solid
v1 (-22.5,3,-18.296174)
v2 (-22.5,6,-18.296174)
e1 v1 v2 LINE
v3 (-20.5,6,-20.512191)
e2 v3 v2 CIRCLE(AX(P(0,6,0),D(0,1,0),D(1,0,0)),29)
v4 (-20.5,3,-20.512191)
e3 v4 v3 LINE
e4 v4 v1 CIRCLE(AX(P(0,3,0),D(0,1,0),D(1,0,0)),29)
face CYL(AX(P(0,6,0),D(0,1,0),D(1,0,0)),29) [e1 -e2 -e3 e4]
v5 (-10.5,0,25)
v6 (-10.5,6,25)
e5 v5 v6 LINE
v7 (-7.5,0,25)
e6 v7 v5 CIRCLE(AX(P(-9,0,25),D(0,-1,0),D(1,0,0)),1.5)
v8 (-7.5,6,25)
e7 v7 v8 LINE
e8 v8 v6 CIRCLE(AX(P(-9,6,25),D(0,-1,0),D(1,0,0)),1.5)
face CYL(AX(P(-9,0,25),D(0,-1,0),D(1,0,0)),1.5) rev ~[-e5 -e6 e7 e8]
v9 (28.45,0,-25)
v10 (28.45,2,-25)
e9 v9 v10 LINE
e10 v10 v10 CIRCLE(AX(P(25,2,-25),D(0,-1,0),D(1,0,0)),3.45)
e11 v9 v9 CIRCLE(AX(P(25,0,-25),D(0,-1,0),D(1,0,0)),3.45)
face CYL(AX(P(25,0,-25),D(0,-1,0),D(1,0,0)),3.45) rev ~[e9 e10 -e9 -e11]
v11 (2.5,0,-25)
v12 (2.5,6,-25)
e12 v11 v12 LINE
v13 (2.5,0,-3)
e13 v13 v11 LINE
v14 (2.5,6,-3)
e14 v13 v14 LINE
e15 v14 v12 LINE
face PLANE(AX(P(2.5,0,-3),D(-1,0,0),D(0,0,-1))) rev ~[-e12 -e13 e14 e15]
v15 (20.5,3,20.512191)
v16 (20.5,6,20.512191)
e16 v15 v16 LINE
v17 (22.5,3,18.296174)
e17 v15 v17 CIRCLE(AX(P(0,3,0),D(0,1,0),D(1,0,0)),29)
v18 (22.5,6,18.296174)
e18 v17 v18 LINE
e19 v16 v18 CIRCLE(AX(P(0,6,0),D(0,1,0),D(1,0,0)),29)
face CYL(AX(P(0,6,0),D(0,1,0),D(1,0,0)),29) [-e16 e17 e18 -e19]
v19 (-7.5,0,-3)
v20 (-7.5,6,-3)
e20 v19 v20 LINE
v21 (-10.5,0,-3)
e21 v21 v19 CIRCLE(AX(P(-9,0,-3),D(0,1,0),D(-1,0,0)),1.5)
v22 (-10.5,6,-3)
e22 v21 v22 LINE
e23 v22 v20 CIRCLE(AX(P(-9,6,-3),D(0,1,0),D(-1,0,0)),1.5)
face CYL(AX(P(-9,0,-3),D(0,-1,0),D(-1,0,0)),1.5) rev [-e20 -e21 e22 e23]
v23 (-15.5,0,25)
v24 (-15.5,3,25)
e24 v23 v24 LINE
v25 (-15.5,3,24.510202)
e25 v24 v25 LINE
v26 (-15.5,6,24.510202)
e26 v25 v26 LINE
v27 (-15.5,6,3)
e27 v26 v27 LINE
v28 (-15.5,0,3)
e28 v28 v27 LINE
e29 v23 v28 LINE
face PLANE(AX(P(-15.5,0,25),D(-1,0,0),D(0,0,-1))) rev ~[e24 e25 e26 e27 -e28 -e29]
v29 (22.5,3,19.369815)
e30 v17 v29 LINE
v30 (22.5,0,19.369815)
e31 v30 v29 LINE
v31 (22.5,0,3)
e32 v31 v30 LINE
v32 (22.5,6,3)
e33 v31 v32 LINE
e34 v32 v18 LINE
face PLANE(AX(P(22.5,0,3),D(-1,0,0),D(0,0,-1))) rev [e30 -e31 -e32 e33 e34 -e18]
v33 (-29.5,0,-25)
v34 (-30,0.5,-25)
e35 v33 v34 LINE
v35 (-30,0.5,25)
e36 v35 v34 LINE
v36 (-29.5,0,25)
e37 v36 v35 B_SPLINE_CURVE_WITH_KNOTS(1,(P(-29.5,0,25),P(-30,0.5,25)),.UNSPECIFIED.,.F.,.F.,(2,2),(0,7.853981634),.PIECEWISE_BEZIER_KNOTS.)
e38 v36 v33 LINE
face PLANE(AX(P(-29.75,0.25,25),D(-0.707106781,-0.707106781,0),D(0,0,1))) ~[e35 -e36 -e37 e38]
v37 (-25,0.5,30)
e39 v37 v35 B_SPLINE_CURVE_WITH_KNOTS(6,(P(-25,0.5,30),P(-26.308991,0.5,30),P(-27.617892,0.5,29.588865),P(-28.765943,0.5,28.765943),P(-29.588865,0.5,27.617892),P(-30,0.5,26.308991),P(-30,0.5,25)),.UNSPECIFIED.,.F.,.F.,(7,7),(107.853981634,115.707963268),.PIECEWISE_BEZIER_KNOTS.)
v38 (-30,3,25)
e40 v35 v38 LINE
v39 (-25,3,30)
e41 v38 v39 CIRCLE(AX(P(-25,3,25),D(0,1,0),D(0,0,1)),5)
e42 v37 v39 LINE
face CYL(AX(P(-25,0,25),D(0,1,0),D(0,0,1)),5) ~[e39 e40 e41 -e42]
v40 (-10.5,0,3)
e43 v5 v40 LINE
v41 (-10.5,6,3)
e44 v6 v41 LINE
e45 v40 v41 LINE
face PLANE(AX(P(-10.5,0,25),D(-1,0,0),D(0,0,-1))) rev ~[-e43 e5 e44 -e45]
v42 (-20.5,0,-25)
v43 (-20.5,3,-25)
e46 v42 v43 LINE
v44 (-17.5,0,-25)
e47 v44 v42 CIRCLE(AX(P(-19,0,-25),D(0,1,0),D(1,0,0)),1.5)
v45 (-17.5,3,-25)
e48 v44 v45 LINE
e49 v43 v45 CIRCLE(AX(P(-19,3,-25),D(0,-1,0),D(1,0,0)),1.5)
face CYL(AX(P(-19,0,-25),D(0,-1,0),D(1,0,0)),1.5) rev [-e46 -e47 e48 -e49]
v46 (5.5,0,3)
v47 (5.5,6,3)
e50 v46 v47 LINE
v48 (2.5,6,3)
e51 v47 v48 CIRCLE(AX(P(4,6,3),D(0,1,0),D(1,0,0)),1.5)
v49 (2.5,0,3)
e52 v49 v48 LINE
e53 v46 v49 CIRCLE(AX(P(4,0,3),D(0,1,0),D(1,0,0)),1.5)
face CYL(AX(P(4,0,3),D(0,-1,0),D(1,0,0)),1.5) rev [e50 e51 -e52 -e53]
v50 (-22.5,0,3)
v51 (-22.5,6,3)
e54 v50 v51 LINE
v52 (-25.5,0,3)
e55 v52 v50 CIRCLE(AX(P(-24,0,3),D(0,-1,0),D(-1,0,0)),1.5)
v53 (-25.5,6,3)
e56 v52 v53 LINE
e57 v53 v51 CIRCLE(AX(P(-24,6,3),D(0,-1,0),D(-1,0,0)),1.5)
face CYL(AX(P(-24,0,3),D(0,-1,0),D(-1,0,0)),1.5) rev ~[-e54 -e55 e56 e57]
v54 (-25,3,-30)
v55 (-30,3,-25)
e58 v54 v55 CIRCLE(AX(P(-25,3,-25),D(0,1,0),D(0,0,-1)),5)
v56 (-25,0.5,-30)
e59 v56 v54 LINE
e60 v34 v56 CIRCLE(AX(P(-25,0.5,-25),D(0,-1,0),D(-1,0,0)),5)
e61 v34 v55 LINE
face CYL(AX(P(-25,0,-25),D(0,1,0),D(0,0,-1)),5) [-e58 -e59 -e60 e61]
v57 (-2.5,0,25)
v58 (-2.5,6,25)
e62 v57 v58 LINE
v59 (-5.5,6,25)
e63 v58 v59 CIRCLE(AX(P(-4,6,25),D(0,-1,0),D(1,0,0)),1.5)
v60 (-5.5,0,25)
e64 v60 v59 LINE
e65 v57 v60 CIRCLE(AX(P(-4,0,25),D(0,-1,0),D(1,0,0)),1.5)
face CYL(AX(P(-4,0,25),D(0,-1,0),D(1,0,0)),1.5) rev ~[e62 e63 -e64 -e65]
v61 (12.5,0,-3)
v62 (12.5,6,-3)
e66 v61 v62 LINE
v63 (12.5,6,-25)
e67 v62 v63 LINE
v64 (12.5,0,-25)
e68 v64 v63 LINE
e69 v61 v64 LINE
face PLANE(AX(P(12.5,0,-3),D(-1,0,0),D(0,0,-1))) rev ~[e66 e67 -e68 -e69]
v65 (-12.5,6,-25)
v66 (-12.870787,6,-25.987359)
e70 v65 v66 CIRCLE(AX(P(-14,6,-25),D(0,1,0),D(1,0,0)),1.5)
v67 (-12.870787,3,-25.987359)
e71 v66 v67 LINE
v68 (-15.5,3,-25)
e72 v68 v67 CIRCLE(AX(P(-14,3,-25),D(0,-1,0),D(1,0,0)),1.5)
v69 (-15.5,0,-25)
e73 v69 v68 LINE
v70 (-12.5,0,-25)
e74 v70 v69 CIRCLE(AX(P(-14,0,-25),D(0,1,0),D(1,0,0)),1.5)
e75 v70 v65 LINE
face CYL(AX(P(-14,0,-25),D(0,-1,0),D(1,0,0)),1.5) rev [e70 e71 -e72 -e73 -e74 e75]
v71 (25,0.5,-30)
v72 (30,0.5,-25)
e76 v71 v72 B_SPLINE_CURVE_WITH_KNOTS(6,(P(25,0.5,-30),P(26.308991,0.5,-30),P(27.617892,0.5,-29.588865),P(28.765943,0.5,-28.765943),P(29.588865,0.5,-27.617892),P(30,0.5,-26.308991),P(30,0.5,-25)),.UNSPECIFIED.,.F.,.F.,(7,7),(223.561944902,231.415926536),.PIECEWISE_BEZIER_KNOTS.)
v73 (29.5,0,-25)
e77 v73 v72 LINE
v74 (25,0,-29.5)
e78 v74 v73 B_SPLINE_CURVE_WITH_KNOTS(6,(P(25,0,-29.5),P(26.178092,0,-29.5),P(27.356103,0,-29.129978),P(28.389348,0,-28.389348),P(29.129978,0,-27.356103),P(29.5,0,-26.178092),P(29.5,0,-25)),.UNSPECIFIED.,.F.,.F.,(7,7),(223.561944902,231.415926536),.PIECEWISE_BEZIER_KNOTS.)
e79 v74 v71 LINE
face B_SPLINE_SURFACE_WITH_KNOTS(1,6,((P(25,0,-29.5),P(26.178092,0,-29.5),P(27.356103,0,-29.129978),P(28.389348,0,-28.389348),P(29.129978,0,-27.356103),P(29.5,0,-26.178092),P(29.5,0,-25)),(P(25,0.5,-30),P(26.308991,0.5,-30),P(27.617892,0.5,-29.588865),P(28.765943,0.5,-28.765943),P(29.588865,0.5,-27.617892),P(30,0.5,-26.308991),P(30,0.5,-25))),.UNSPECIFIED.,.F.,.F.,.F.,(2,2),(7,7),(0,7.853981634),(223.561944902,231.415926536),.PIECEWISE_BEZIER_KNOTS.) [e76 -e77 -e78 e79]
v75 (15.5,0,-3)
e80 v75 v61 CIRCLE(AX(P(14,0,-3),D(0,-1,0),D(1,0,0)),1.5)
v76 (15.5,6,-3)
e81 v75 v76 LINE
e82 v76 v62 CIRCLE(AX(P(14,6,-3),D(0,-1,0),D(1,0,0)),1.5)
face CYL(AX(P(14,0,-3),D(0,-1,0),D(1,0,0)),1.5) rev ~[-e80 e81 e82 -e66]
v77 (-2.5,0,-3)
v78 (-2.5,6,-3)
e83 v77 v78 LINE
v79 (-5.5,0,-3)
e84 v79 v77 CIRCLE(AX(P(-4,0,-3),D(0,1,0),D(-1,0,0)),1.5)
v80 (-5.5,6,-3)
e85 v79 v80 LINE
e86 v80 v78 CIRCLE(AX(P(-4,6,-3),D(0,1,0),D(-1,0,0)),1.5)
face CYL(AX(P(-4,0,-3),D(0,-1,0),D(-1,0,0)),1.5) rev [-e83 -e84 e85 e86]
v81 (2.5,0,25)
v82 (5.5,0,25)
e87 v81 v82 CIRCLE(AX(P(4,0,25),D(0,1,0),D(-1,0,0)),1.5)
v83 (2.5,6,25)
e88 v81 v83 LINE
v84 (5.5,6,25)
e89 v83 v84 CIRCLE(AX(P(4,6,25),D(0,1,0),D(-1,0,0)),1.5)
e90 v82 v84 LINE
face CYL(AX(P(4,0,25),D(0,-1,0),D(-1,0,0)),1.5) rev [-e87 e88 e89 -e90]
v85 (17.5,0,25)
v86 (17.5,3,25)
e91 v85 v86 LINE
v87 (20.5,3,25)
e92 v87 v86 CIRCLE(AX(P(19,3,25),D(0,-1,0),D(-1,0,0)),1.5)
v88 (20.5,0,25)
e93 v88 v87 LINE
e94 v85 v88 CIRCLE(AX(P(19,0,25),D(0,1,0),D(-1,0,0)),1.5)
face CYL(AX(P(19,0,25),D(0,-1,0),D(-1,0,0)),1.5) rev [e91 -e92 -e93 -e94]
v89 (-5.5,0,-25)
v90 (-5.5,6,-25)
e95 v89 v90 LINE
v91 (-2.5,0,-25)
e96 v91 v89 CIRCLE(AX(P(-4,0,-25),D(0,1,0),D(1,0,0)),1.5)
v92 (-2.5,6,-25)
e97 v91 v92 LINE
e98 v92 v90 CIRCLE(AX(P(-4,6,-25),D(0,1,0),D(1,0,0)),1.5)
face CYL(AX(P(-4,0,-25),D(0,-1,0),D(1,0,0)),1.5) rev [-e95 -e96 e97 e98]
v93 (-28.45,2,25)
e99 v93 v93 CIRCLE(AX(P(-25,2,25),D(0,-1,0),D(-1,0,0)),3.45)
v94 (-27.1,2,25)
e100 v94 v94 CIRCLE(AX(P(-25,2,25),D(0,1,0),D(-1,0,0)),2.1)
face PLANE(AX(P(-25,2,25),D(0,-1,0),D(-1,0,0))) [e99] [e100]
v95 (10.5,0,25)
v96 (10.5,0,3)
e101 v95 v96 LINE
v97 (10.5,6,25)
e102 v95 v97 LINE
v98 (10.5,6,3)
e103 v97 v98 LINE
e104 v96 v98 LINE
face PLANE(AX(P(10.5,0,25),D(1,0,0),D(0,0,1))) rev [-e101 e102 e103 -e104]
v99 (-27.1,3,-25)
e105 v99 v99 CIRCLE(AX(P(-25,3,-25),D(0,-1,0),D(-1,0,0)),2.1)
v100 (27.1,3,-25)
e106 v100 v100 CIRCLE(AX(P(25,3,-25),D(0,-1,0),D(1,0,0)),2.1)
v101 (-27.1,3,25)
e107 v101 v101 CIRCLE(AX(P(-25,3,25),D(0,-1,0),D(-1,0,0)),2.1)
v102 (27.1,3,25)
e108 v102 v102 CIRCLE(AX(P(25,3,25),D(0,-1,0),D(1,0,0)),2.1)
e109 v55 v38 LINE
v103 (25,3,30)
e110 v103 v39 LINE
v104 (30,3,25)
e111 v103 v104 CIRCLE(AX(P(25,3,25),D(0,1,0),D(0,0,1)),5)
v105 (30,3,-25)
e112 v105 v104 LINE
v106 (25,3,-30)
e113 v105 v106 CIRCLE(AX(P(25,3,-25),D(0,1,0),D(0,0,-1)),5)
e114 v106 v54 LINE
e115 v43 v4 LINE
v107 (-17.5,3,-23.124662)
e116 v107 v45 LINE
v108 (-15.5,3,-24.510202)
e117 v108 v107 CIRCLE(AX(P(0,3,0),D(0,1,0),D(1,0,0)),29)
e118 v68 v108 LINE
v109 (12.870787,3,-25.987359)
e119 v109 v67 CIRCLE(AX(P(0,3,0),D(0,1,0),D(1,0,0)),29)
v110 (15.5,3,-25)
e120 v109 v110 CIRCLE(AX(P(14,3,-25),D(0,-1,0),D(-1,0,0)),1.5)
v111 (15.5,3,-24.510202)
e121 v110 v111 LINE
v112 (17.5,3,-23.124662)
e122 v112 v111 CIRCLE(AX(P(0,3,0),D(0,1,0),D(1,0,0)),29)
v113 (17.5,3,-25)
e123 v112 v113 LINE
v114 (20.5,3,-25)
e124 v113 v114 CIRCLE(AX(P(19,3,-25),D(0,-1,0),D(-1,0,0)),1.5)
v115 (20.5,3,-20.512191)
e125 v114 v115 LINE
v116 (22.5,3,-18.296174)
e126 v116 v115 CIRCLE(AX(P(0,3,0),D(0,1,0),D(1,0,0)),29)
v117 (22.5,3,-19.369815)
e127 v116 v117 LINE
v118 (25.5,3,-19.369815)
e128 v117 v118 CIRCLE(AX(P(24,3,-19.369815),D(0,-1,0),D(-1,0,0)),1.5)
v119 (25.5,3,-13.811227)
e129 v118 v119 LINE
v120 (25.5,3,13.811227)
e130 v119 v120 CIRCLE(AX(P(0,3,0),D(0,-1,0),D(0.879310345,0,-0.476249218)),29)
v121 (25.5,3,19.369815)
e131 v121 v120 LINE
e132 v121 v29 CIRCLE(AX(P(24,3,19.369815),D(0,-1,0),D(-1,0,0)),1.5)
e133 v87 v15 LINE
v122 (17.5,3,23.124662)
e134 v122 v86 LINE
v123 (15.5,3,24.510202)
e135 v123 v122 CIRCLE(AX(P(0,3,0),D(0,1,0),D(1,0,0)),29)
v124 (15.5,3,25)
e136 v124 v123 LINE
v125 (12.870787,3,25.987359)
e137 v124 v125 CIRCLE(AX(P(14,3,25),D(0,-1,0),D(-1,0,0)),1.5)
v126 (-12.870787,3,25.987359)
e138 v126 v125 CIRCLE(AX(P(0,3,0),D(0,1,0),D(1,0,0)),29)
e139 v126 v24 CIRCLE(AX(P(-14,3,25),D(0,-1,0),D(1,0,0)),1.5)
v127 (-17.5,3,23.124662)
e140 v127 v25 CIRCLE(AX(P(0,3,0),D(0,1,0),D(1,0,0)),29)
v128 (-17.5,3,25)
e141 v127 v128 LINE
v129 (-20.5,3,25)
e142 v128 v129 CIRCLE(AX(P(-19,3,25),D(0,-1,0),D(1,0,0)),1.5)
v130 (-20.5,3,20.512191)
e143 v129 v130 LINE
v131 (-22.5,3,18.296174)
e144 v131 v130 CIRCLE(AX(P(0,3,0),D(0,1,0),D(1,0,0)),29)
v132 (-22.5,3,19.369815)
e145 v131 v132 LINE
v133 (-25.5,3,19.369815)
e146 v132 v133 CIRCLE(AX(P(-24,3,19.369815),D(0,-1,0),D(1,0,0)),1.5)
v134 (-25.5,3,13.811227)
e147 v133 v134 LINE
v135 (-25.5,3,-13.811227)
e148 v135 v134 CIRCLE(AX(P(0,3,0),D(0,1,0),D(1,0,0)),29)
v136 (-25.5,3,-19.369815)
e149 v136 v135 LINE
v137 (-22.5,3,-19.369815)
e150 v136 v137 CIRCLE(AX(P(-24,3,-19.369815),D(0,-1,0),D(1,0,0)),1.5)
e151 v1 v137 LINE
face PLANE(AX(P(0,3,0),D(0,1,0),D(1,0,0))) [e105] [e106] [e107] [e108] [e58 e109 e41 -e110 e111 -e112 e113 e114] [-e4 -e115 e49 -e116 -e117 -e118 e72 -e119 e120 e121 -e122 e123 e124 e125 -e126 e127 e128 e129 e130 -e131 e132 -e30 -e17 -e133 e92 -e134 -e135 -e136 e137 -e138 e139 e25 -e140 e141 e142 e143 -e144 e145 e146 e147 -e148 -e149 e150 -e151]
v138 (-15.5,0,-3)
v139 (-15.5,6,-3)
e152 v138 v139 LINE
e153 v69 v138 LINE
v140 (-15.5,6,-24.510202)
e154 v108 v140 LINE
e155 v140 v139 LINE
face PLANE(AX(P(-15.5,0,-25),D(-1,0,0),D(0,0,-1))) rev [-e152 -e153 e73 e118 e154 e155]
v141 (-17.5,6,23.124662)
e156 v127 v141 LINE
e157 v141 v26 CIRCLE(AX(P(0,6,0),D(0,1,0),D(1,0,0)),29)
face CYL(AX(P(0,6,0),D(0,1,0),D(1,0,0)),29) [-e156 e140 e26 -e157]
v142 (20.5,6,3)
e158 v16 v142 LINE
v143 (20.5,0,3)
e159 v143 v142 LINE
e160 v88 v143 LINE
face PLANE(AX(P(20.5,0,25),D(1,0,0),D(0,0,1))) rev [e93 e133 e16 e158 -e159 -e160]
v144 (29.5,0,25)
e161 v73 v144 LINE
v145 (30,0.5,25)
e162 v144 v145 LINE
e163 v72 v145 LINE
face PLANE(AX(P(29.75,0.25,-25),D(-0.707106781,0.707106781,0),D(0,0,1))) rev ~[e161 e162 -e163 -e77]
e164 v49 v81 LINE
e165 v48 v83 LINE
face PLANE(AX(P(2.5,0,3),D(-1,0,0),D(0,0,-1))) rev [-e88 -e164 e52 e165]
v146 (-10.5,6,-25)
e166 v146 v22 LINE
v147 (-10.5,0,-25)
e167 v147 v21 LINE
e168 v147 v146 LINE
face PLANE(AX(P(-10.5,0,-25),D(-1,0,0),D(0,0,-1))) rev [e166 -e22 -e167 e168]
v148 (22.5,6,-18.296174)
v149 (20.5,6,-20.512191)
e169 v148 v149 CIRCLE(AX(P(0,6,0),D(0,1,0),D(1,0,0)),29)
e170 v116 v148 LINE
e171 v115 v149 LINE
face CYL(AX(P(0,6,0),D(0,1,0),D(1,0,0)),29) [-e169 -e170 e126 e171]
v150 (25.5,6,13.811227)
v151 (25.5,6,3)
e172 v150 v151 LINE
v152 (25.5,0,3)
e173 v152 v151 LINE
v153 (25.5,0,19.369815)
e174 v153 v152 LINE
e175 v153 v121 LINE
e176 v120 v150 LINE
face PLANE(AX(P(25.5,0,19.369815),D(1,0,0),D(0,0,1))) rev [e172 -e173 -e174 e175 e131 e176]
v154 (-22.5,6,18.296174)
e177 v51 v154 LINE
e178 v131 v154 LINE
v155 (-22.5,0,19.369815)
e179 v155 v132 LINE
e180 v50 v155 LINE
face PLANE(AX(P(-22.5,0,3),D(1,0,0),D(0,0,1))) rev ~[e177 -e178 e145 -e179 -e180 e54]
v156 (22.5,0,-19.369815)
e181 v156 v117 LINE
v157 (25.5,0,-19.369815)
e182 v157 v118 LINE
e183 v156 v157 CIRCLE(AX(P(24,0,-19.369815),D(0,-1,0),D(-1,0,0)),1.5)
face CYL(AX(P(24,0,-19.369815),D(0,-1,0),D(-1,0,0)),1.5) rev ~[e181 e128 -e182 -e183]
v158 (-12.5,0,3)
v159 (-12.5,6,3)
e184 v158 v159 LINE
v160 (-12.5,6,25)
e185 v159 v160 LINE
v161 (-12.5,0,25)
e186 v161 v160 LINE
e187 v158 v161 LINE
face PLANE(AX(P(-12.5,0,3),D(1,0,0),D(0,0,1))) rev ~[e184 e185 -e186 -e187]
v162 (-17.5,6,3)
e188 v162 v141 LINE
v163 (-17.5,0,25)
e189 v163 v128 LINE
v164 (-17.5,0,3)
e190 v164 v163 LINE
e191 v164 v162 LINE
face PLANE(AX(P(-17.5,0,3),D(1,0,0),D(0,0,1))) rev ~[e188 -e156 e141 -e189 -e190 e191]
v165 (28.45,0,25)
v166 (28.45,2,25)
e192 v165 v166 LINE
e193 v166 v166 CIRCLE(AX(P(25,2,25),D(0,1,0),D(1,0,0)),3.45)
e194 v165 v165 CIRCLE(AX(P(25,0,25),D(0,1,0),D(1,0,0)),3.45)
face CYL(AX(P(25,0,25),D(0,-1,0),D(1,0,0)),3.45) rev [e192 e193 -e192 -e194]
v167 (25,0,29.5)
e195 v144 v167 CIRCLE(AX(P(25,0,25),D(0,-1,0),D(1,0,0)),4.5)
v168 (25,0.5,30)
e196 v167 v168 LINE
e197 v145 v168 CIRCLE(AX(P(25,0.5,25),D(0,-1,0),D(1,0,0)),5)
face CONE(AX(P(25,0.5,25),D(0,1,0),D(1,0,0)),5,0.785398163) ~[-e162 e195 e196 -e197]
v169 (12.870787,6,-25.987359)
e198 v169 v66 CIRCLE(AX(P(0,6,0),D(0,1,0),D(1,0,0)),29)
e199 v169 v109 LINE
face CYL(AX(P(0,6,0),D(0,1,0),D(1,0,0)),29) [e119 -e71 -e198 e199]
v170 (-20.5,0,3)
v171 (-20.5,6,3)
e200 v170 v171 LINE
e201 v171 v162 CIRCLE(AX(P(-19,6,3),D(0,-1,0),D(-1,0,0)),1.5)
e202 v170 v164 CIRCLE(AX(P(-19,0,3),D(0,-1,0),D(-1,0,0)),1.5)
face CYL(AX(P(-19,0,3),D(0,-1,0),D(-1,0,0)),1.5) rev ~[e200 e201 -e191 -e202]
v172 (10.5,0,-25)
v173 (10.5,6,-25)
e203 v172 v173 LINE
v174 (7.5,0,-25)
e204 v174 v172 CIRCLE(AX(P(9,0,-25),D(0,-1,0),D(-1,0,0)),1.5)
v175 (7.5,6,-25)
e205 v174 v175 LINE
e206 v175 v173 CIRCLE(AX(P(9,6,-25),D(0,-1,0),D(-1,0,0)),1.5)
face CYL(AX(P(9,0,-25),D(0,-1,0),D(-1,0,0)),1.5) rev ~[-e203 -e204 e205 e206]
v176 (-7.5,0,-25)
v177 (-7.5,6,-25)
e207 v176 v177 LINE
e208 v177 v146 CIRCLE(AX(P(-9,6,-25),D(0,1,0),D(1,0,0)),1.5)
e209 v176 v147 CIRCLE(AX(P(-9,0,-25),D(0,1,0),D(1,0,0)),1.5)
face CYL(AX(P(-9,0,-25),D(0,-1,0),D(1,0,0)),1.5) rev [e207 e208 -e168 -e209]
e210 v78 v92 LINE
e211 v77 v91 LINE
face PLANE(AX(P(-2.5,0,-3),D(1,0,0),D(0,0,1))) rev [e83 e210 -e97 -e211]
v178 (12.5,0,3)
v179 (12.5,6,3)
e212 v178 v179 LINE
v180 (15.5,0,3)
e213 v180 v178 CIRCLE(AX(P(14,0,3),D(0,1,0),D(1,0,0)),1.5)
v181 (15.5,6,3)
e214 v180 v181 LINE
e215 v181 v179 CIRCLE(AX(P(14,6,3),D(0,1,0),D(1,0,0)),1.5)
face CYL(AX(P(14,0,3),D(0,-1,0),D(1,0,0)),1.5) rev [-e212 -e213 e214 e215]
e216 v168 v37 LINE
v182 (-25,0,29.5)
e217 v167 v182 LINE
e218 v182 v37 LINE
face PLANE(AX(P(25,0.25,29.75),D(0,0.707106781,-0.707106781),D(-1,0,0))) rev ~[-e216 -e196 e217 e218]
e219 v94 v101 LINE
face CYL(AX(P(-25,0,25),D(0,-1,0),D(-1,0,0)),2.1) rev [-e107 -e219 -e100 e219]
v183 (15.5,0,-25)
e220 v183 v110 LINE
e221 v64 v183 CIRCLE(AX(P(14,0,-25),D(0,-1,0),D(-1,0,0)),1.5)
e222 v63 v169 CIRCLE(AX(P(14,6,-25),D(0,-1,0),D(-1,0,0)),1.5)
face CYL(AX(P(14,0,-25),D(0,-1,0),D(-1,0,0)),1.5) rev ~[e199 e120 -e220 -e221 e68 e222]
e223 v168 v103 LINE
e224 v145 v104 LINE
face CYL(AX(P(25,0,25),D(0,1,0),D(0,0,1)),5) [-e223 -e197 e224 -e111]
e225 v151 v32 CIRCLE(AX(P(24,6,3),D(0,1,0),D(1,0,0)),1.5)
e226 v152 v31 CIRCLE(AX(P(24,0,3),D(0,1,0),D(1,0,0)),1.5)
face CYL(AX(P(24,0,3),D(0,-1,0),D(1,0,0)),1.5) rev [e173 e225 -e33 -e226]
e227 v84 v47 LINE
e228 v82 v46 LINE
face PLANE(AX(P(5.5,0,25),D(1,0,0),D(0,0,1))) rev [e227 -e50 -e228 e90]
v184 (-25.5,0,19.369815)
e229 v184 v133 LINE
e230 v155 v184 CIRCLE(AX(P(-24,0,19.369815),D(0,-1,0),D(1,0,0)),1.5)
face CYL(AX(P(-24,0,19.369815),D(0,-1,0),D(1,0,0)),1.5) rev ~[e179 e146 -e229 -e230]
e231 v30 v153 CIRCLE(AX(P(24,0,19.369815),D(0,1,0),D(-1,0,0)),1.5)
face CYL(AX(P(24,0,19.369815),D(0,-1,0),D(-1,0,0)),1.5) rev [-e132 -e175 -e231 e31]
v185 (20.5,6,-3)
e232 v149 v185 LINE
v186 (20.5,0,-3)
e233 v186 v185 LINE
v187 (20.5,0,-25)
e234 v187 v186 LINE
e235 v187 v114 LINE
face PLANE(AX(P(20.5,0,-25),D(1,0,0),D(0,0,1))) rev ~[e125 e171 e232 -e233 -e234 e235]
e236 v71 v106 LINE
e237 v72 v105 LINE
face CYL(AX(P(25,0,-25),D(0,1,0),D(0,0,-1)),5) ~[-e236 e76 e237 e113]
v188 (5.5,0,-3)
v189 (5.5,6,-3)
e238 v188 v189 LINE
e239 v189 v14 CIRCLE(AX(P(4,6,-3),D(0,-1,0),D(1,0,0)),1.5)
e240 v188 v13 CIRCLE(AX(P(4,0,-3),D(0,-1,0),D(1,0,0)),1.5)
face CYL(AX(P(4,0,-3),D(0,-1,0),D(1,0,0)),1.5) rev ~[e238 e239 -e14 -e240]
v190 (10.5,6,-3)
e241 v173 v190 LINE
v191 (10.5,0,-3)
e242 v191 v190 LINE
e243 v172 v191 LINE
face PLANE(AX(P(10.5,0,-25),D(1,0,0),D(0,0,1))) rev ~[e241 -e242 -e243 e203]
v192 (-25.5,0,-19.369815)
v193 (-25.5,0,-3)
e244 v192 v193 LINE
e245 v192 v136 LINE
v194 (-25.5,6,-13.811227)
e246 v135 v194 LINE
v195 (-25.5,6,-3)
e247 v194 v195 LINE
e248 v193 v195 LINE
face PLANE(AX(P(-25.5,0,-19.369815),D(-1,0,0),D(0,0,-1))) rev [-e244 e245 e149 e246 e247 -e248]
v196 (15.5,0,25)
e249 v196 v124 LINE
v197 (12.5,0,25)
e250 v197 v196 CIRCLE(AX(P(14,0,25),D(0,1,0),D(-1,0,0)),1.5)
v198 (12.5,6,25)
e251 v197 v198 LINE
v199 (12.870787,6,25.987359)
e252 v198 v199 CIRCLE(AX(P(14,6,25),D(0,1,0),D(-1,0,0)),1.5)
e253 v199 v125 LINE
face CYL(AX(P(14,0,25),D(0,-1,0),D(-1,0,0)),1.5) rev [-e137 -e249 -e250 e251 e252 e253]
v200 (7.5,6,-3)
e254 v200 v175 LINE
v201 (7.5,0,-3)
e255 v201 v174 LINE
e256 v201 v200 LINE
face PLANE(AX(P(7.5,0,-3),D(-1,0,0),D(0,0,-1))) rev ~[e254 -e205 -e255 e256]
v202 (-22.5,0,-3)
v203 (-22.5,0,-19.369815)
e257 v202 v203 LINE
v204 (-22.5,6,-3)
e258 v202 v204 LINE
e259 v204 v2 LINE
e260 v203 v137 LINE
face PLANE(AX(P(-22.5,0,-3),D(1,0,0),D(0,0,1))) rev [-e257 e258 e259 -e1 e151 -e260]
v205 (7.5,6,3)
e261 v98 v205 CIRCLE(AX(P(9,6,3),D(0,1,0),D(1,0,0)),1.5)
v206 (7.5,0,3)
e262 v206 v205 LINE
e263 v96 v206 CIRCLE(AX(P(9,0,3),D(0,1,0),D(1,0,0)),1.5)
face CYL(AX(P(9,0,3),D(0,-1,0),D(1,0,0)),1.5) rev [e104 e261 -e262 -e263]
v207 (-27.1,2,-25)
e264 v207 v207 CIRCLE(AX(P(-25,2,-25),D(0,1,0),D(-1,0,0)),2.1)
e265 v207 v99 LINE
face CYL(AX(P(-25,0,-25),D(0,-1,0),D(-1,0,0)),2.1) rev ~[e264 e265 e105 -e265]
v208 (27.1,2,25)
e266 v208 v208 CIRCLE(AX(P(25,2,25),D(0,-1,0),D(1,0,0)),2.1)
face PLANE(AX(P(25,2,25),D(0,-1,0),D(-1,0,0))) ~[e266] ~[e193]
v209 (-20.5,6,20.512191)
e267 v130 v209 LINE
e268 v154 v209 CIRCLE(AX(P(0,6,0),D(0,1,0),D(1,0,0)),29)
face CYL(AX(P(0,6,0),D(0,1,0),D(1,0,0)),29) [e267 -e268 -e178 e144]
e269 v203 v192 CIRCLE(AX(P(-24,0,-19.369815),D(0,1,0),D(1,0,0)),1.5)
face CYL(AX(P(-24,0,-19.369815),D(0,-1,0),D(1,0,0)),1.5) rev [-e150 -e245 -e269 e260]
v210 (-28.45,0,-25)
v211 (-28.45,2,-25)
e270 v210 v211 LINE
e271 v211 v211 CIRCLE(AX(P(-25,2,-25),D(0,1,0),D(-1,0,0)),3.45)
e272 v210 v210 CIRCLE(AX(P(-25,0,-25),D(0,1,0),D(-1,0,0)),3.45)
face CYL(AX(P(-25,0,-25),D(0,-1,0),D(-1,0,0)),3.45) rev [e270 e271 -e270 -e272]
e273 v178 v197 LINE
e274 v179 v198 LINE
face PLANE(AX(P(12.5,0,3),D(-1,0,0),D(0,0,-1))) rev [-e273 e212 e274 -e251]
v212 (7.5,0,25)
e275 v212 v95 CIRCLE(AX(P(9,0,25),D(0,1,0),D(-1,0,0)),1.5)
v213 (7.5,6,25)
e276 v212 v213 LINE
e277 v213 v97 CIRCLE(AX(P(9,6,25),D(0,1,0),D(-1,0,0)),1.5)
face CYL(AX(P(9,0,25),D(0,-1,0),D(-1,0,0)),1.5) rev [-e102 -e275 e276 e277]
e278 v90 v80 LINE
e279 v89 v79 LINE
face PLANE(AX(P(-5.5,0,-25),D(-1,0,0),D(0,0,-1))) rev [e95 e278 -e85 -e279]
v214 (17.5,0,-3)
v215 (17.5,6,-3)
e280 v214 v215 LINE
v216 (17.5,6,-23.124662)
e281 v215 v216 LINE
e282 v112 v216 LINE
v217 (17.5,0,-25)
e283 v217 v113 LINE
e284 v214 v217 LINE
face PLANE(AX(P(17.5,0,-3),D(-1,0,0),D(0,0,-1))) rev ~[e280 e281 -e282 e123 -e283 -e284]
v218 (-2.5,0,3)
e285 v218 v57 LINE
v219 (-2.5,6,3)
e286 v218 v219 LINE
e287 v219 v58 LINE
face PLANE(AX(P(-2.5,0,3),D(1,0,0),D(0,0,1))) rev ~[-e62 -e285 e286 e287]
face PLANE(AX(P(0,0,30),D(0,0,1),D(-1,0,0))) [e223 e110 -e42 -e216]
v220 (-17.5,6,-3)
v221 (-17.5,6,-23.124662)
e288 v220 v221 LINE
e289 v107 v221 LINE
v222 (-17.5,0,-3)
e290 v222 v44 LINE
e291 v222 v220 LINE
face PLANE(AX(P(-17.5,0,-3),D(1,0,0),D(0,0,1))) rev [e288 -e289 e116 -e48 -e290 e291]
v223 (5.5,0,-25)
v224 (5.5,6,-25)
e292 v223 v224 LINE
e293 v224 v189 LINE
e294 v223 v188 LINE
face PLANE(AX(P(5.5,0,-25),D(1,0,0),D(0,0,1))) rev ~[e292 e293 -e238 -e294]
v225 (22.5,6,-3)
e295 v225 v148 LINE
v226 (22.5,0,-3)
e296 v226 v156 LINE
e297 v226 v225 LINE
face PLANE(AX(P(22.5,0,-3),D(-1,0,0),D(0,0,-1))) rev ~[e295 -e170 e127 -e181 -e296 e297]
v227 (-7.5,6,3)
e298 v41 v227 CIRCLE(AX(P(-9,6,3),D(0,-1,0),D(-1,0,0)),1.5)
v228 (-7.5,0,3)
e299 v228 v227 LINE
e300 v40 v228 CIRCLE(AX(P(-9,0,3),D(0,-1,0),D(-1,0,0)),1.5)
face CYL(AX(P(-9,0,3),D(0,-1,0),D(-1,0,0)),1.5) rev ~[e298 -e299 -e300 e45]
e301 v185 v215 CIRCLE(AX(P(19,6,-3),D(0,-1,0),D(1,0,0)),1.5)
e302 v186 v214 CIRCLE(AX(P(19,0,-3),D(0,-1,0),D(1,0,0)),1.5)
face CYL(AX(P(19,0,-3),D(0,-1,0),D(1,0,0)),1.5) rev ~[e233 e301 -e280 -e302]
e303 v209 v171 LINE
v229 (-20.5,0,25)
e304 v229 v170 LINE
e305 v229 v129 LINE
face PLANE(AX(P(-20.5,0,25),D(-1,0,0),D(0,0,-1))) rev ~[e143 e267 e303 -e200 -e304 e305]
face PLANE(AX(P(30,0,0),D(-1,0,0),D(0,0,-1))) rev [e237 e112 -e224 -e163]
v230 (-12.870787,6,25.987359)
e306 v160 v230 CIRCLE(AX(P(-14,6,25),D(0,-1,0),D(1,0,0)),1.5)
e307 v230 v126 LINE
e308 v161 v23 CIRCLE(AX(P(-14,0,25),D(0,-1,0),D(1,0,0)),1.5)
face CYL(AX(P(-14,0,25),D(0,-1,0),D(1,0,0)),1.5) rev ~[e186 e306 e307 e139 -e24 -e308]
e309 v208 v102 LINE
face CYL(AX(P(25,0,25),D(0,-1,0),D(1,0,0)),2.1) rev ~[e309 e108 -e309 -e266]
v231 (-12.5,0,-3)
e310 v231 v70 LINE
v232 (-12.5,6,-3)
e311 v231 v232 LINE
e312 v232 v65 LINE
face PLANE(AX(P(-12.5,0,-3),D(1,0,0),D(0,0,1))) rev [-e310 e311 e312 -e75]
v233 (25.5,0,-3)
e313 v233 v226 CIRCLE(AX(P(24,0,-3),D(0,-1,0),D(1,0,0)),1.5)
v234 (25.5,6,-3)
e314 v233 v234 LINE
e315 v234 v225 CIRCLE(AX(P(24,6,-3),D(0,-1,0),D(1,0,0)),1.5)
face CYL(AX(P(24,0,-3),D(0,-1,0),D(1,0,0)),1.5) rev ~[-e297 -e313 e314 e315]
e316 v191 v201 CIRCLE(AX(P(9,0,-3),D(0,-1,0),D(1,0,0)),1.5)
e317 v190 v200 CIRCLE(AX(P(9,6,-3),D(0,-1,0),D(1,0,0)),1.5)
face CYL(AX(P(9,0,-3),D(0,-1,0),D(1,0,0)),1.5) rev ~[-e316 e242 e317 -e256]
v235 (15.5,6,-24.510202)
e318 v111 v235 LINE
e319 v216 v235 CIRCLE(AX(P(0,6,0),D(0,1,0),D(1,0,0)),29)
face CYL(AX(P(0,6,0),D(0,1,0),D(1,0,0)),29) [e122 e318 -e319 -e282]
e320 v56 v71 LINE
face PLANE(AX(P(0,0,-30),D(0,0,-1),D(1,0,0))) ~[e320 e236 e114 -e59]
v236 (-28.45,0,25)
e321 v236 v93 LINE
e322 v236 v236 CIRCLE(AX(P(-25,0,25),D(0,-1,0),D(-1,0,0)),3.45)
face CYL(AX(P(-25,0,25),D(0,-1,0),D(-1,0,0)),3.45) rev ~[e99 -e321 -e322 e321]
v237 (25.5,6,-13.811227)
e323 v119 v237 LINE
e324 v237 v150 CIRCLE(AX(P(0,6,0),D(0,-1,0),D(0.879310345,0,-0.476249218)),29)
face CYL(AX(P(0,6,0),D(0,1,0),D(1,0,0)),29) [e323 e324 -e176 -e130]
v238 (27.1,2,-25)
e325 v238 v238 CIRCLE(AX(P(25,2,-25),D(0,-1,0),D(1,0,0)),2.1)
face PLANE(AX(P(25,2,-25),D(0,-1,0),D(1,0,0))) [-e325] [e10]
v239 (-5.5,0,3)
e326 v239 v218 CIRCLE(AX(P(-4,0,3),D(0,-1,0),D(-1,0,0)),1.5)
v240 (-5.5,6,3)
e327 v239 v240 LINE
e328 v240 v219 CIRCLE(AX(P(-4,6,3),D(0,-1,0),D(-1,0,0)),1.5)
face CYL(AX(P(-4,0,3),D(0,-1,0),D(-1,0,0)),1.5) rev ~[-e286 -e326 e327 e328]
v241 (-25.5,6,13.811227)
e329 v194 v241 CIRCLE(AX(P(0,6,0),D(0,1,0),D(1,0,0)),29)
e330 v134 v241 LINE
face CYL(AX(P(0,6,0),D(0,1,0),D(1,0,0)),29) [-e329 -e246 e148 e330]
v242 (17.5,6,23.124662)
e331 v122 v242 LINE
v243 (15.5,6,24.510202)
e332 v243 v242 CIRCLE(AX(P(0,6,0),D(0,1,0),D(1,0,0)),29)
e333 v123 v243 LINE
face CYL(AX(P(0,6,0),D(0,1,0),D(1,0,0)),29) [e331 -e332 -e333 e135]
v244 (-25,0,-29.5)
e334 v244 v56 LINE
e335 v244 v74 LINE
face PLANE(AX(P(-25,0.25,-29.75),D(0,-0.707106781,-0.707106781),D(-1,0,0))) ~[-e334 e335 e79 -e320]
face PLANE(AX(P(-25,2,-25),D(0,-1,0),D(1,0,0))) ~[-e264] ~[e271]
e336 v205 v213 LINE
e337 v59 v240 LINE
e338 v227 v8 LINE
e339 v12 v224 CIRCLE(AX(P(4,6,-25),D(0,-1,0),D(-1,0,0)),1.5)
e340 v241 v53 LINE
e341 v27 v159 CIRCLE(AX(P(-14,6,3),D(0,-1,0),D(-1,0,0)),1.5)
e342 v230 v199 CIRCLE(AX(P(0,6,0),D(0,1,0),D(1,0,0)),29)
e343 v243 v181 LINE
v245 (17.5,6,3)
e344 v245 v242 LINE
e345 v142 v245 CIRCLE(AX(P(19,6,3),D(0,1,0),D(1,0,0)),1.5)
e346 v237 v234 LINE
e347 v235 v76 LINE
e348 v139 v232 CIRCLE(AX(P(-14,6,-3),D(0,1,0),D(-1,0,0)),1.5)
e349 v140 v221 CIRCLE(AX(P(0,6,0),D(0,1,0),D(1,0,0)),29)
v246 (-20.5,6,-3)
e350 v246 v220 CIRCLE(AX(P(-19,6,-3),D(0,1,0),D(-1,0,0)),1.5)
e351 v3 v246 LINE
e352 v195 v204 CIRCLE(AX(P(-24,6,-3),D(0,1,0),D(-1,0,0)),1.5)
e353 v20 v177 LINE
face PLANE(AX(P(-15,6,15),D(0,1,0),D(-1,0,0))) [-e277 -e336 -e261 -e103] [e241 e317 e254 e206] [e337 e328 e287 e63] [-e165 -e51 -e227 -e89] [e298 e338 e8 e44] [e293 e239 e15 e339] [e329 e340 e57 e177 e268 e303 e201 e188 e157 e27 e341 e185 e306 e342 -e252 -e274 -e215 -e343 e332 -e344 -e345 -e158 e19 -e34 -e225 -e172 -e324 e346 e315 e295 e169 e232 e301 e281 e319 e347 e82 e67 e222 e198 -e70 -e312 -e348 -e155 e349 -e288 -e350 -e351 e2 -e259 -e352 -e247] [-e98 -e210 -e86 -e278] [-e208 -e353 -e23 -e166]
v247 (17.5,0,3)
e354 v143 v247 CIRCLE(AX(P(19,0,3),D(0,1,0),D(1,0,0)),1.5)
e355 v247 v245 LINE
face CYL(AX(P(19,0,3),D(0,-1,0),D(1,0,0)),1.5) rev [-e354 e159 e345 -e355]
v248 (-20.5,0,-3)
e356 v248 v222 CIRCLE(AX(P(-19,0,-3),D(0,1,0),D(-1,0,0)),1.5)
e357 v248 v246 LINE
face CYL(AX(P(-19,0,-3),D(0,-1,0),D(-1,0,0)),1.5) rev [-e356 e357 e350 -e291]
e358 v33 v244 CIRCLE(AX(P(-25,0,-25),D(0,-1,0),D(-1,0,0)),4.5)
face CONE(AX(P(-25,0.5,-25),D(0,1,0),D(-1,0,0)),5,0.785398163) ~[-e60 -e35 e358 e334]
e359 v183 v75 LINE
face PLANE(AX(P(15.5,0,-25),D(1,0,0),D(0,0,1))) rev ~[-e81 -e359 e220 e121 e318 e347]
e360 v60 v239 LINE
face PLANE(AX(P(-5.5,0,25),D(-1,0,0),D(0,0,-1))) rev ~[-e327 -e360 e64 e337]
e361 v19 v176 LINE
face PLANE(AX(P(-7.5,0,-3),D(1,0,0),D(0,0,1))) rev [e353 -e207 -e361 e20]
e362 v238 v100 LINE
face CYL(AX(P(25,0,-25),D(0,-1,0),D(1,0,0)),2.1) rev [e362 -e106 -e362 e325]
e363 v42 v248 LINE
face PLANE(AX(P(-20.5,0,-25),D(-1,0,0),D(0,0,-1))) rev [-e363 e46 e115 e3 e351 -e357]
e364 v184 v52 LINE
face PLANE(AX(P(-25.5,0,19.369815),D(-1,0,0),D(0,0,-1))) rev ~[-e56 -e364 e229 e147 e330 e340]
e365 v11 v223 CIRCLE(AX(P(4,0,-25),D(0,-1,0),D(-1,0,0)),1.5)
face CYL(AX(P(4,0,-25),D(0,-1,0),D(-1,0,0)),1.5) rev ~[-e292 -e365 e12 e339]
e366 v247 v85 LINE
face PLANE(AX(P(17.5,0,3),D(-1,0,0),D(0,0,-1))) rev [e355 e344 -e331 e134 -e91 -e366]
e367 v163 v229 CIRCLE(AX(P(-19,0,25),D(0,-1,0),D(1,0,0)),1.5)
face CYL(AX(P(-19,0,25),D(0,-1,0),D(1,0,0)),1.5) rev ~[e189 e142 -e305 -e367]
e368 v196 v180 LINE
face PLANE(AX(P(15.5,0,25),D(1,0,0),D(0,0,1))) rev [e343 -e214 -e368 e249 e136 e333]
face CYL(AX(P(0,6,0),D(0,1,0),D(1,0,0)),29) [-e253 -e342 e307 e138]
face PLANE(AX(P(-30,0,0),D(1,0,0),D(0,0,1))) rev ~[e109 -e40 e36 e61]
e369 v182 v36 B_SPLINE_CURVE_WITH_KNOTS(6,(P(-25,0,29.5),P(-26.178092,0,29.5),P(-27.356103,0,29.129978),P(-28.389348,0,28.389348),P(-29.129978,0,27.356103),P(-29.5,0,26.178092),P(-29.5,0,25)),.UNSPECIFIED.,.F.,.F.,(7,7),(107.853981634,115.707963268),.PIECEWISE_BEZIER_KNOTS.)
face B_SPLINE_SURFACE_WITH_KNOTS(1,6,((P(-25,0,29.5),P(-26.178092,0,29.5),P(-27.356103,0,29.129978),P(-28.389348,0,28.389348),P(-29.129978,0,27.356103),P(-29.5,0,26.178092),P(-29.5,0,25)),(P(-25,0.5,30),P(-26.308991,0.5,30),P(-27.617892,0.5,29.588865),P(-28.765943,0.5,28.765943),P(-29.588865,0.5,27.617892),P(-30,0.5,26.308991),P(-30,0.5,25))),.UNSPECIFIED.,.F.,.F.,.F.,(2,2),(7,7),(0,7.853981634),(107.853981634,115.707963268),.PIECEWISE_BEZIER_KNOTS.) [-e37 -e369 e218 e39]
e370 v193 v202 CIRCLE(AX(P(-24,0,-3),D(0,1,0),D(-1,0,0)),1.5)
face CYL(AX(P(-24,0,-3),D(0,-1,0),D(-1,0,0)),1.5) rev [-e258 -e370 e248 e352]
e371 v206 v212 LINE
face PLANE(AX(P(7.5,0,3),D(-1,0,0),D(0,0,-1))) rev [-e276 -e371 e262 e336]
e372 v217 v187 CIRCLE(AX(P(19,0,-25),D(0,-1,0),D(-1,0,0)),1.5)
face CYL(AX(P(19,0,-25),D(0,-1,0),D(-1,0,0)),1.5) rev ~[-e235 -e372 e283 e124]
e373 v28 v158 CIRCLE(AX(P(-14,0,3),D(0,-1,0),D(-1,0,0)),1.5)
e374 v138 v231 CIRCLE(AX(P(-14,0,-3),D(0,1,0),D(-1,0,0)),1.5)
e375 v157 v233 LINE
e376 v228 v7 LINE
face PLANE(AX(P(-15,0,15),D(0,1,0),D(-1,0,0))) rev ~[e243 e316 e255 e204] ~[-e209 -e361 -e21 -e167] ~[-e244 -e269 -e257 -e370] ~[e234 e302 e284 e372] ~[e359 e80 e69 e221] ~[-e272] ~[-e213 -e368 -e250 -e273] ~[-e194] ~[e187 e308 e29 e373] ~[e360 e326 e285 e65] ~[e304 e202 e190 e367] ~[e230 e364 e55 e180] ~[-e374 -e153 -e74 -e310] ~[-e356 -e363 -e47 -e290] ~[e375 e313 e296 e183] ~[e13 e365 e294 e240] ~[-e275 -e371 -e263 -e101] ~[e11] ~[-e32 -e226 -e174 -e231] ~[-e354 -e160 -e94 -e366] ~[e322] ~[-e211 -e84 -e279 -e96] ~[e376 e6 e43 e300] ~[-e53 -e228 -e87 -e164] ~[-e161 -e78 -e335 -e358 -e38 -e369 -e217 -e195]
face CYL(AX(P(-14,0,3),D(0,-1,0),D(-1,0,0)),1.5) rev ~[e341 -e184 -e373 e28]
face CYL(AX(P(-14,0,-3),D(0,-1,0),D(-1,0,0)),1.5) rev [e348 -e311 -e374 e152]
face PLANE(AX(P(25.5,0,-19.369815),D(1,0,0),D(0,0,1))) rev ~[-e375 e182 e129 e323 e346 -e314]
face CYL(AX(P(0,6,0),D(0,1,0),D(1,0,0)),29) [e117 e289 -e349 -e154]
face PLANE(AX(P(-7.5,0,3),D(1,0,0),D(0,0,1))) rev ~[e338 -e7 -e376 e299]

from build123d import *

# Parameters (mm, degrees)
CROQUIS1_W               = 30
CROQUIS1_H               = 30
CROQUIS1_R               = 2.1
SALIENTE_EXTRUIR1_DEPTH  = 6
REDONDEO1_R              = 5
CROQUIS3_R               = 3.45
CORTAR_EXTRUIR2_DEPTH    = 2
REDONDEO1_OF_SIMETR_A1_R = 5
CROQUIS2_OUTSIDE_W       = 79.012
CROQUIS2_OUTSIDE_H       = 79.012
CROQUIS2_OUTSIDE_R       = 29
CORTAR_EXTRUIR1_DEPTH    = 3
CHAFL_N1_SIZE            = 0.5


with BuildPart() as part:
    # Croquis1 → Saliente-Extruir1 (new body)
    with BuildSketch(Plane(origin=(0, 0, 0), x_dir=(1, 0, 0), z_dir=(0, 1, 0))):
        with Locations((15, 15)):
            Rectangle(CROQUIS1_W, CROQUIS1_H)
        with Locations((25, 25)):
            Circle(CROQUIS1_R, mode=Mode.SUBTRACT)
        with BuildLine():
            Line((2.5, 3), (2.5, 25))
            ThreePointArc((2.5, 25), (4, 26.5), (5.5, 25))
            Line((5.5, 25), (5.5, 3))
            ThreePointArc((5.5, 3), (4, 1.5), (2.5, 3))
        make_face(mode=Mode.SUBTRACT)
        with BuildLine():
            Line((7.5, 3), (7.5, 25))
            ThreePointArc((7.5, 25), (9, 26.5), (10.5, 25))
            Line((10.5, 25), (10.5, 3))
            ThreePointArc((10.5, 3), (9, 1.5), (7.5, 3))
        make_face(mode=Mode.SUBTRACT)
        with BuildLine():
            Line((17.5, 3), (17.5, 25))
            ThreePointArc((17.5, 25), (19, 26.5), (20.5, 25))
            Line((20.5, 25), (20.5, 3))
            ThreePointArc((20.5, 3), (19, 1.5), (17.5, 3))
        make_face(mode=Mode.SUBTRACT)
        with BuildLine():
            Line((22.5, 3), (22.5, 19.36981464))
            ThreePointArc((22.5, 19.36981464), (24, 20.86981464), (25.5, 19.36981464))
            Line((25.5, 19.36981464), (25.5, 3))
            ThreePointArc((25.5, 3), (24, 1.5), (22.5, 3))
        make_face(mode=Mode.SUBTRACT)
        with BuildLine():
            Line((15.5, 25), (15.5, 3))
            ThreePointArc((15.5, 3), (14, 1.5), (12.5, 3))
            Line((12.5, 3), (12.5, 25))
            ThreePointArc((12.5, 25), (14, 26.5), (15.5, 25))
        make_face(mode=Mode.SUBTRACT)
    saliente_extruir1 = extrude(amount=SALIENTE_EXTRUIR1_DEPTH)

    # Redondeo1
    redondeo1_edges = [part.edges().sort_by_distance(p)[0] for p in [
        (30, 3, -30),
    ]]
    fillet(redondeo1_edges, radius=REDONDEO1_R)

    # Croquis3 → Cortar-Extruir2 (cut)
    with BuildSketch(Plane.XZ):
        with Locations((25, -25)):
            Circle(CROQUIS3_R)
    cortar_extruir2 = extrude(amount=-CORTAR_EXTRUIR2_DEPTH, mode=Mode.SUBTRACT)

    # Simetría1: Saliente-Extruir1, Cortar-Extruir2 across plane
    add(saliente_extruir1.mirror(Plane(origin=(0, 6, 0), x_dir=(1, 0, 0), z_dir=(0, 0, -1))))
    add(cortar_extruir2.mirror(Plane(origin=(0, 6, 0), x_dir=(1, 0, 0), z_dir=(0, 0, -1))), mode=Mode.SUBTRACT)

    # Redondeo1 of Simetría1
    redondeo1_of_simetr_a1_edges = [part.edges().sort_by_distance(p)[0] for p in [
        (30, 3, 30),
    ]]
    fillet(redondeo1_of_simetr_a1_edges, radius=REDONDEO1_OF_SIMETR_A1_R)

    # Simetría7: part across plane


with BuildPart() as part_1:
    add(part.part)
    add(part.part.mirror(Plane(origin=(0, 6, 0), x_dir=(0, 0, 1), z_dir=(1, 0, 0))))

    # Croquis2 outside → Cortar-Extruir1 (cut)
    with BuildSketch(Plane(origin=(0, 6, 0), x_dir=(1, 0, 0), z_dir=(0, 1, 0))):
        Rectangle(CROQUIS2_OUTSIDE_W, CROQUIS2_OUTSIDE_H)
        Circle(CROQUIS2_OUTSIDE_R, mode=Mode.SUBTRACT)
    extrude(amount=-CORTAR_EXTRUIR1_DEPTH, mode=Mode.SUBTRACT)

    # Chaflán1
    chafl_n1_edges = [part_1.edges().sort_by_distance(p)[0] for p in [
        (30, 0, 0),
        (0, 0, 30),
        (28.535533906, 0, 28.535533906),
        (-30, 0, 0),
        (-28.535533906, 0, -28.535533906),
        (-28.535533906, 0, 28.535533906),
        (0, 0, -30),
        (28.535533906, 0, -28.535533906),
    ]]
    chamfer(chafl_n1_edges, length=CHAFL_N1_SIZE)


solid = part_1.part
